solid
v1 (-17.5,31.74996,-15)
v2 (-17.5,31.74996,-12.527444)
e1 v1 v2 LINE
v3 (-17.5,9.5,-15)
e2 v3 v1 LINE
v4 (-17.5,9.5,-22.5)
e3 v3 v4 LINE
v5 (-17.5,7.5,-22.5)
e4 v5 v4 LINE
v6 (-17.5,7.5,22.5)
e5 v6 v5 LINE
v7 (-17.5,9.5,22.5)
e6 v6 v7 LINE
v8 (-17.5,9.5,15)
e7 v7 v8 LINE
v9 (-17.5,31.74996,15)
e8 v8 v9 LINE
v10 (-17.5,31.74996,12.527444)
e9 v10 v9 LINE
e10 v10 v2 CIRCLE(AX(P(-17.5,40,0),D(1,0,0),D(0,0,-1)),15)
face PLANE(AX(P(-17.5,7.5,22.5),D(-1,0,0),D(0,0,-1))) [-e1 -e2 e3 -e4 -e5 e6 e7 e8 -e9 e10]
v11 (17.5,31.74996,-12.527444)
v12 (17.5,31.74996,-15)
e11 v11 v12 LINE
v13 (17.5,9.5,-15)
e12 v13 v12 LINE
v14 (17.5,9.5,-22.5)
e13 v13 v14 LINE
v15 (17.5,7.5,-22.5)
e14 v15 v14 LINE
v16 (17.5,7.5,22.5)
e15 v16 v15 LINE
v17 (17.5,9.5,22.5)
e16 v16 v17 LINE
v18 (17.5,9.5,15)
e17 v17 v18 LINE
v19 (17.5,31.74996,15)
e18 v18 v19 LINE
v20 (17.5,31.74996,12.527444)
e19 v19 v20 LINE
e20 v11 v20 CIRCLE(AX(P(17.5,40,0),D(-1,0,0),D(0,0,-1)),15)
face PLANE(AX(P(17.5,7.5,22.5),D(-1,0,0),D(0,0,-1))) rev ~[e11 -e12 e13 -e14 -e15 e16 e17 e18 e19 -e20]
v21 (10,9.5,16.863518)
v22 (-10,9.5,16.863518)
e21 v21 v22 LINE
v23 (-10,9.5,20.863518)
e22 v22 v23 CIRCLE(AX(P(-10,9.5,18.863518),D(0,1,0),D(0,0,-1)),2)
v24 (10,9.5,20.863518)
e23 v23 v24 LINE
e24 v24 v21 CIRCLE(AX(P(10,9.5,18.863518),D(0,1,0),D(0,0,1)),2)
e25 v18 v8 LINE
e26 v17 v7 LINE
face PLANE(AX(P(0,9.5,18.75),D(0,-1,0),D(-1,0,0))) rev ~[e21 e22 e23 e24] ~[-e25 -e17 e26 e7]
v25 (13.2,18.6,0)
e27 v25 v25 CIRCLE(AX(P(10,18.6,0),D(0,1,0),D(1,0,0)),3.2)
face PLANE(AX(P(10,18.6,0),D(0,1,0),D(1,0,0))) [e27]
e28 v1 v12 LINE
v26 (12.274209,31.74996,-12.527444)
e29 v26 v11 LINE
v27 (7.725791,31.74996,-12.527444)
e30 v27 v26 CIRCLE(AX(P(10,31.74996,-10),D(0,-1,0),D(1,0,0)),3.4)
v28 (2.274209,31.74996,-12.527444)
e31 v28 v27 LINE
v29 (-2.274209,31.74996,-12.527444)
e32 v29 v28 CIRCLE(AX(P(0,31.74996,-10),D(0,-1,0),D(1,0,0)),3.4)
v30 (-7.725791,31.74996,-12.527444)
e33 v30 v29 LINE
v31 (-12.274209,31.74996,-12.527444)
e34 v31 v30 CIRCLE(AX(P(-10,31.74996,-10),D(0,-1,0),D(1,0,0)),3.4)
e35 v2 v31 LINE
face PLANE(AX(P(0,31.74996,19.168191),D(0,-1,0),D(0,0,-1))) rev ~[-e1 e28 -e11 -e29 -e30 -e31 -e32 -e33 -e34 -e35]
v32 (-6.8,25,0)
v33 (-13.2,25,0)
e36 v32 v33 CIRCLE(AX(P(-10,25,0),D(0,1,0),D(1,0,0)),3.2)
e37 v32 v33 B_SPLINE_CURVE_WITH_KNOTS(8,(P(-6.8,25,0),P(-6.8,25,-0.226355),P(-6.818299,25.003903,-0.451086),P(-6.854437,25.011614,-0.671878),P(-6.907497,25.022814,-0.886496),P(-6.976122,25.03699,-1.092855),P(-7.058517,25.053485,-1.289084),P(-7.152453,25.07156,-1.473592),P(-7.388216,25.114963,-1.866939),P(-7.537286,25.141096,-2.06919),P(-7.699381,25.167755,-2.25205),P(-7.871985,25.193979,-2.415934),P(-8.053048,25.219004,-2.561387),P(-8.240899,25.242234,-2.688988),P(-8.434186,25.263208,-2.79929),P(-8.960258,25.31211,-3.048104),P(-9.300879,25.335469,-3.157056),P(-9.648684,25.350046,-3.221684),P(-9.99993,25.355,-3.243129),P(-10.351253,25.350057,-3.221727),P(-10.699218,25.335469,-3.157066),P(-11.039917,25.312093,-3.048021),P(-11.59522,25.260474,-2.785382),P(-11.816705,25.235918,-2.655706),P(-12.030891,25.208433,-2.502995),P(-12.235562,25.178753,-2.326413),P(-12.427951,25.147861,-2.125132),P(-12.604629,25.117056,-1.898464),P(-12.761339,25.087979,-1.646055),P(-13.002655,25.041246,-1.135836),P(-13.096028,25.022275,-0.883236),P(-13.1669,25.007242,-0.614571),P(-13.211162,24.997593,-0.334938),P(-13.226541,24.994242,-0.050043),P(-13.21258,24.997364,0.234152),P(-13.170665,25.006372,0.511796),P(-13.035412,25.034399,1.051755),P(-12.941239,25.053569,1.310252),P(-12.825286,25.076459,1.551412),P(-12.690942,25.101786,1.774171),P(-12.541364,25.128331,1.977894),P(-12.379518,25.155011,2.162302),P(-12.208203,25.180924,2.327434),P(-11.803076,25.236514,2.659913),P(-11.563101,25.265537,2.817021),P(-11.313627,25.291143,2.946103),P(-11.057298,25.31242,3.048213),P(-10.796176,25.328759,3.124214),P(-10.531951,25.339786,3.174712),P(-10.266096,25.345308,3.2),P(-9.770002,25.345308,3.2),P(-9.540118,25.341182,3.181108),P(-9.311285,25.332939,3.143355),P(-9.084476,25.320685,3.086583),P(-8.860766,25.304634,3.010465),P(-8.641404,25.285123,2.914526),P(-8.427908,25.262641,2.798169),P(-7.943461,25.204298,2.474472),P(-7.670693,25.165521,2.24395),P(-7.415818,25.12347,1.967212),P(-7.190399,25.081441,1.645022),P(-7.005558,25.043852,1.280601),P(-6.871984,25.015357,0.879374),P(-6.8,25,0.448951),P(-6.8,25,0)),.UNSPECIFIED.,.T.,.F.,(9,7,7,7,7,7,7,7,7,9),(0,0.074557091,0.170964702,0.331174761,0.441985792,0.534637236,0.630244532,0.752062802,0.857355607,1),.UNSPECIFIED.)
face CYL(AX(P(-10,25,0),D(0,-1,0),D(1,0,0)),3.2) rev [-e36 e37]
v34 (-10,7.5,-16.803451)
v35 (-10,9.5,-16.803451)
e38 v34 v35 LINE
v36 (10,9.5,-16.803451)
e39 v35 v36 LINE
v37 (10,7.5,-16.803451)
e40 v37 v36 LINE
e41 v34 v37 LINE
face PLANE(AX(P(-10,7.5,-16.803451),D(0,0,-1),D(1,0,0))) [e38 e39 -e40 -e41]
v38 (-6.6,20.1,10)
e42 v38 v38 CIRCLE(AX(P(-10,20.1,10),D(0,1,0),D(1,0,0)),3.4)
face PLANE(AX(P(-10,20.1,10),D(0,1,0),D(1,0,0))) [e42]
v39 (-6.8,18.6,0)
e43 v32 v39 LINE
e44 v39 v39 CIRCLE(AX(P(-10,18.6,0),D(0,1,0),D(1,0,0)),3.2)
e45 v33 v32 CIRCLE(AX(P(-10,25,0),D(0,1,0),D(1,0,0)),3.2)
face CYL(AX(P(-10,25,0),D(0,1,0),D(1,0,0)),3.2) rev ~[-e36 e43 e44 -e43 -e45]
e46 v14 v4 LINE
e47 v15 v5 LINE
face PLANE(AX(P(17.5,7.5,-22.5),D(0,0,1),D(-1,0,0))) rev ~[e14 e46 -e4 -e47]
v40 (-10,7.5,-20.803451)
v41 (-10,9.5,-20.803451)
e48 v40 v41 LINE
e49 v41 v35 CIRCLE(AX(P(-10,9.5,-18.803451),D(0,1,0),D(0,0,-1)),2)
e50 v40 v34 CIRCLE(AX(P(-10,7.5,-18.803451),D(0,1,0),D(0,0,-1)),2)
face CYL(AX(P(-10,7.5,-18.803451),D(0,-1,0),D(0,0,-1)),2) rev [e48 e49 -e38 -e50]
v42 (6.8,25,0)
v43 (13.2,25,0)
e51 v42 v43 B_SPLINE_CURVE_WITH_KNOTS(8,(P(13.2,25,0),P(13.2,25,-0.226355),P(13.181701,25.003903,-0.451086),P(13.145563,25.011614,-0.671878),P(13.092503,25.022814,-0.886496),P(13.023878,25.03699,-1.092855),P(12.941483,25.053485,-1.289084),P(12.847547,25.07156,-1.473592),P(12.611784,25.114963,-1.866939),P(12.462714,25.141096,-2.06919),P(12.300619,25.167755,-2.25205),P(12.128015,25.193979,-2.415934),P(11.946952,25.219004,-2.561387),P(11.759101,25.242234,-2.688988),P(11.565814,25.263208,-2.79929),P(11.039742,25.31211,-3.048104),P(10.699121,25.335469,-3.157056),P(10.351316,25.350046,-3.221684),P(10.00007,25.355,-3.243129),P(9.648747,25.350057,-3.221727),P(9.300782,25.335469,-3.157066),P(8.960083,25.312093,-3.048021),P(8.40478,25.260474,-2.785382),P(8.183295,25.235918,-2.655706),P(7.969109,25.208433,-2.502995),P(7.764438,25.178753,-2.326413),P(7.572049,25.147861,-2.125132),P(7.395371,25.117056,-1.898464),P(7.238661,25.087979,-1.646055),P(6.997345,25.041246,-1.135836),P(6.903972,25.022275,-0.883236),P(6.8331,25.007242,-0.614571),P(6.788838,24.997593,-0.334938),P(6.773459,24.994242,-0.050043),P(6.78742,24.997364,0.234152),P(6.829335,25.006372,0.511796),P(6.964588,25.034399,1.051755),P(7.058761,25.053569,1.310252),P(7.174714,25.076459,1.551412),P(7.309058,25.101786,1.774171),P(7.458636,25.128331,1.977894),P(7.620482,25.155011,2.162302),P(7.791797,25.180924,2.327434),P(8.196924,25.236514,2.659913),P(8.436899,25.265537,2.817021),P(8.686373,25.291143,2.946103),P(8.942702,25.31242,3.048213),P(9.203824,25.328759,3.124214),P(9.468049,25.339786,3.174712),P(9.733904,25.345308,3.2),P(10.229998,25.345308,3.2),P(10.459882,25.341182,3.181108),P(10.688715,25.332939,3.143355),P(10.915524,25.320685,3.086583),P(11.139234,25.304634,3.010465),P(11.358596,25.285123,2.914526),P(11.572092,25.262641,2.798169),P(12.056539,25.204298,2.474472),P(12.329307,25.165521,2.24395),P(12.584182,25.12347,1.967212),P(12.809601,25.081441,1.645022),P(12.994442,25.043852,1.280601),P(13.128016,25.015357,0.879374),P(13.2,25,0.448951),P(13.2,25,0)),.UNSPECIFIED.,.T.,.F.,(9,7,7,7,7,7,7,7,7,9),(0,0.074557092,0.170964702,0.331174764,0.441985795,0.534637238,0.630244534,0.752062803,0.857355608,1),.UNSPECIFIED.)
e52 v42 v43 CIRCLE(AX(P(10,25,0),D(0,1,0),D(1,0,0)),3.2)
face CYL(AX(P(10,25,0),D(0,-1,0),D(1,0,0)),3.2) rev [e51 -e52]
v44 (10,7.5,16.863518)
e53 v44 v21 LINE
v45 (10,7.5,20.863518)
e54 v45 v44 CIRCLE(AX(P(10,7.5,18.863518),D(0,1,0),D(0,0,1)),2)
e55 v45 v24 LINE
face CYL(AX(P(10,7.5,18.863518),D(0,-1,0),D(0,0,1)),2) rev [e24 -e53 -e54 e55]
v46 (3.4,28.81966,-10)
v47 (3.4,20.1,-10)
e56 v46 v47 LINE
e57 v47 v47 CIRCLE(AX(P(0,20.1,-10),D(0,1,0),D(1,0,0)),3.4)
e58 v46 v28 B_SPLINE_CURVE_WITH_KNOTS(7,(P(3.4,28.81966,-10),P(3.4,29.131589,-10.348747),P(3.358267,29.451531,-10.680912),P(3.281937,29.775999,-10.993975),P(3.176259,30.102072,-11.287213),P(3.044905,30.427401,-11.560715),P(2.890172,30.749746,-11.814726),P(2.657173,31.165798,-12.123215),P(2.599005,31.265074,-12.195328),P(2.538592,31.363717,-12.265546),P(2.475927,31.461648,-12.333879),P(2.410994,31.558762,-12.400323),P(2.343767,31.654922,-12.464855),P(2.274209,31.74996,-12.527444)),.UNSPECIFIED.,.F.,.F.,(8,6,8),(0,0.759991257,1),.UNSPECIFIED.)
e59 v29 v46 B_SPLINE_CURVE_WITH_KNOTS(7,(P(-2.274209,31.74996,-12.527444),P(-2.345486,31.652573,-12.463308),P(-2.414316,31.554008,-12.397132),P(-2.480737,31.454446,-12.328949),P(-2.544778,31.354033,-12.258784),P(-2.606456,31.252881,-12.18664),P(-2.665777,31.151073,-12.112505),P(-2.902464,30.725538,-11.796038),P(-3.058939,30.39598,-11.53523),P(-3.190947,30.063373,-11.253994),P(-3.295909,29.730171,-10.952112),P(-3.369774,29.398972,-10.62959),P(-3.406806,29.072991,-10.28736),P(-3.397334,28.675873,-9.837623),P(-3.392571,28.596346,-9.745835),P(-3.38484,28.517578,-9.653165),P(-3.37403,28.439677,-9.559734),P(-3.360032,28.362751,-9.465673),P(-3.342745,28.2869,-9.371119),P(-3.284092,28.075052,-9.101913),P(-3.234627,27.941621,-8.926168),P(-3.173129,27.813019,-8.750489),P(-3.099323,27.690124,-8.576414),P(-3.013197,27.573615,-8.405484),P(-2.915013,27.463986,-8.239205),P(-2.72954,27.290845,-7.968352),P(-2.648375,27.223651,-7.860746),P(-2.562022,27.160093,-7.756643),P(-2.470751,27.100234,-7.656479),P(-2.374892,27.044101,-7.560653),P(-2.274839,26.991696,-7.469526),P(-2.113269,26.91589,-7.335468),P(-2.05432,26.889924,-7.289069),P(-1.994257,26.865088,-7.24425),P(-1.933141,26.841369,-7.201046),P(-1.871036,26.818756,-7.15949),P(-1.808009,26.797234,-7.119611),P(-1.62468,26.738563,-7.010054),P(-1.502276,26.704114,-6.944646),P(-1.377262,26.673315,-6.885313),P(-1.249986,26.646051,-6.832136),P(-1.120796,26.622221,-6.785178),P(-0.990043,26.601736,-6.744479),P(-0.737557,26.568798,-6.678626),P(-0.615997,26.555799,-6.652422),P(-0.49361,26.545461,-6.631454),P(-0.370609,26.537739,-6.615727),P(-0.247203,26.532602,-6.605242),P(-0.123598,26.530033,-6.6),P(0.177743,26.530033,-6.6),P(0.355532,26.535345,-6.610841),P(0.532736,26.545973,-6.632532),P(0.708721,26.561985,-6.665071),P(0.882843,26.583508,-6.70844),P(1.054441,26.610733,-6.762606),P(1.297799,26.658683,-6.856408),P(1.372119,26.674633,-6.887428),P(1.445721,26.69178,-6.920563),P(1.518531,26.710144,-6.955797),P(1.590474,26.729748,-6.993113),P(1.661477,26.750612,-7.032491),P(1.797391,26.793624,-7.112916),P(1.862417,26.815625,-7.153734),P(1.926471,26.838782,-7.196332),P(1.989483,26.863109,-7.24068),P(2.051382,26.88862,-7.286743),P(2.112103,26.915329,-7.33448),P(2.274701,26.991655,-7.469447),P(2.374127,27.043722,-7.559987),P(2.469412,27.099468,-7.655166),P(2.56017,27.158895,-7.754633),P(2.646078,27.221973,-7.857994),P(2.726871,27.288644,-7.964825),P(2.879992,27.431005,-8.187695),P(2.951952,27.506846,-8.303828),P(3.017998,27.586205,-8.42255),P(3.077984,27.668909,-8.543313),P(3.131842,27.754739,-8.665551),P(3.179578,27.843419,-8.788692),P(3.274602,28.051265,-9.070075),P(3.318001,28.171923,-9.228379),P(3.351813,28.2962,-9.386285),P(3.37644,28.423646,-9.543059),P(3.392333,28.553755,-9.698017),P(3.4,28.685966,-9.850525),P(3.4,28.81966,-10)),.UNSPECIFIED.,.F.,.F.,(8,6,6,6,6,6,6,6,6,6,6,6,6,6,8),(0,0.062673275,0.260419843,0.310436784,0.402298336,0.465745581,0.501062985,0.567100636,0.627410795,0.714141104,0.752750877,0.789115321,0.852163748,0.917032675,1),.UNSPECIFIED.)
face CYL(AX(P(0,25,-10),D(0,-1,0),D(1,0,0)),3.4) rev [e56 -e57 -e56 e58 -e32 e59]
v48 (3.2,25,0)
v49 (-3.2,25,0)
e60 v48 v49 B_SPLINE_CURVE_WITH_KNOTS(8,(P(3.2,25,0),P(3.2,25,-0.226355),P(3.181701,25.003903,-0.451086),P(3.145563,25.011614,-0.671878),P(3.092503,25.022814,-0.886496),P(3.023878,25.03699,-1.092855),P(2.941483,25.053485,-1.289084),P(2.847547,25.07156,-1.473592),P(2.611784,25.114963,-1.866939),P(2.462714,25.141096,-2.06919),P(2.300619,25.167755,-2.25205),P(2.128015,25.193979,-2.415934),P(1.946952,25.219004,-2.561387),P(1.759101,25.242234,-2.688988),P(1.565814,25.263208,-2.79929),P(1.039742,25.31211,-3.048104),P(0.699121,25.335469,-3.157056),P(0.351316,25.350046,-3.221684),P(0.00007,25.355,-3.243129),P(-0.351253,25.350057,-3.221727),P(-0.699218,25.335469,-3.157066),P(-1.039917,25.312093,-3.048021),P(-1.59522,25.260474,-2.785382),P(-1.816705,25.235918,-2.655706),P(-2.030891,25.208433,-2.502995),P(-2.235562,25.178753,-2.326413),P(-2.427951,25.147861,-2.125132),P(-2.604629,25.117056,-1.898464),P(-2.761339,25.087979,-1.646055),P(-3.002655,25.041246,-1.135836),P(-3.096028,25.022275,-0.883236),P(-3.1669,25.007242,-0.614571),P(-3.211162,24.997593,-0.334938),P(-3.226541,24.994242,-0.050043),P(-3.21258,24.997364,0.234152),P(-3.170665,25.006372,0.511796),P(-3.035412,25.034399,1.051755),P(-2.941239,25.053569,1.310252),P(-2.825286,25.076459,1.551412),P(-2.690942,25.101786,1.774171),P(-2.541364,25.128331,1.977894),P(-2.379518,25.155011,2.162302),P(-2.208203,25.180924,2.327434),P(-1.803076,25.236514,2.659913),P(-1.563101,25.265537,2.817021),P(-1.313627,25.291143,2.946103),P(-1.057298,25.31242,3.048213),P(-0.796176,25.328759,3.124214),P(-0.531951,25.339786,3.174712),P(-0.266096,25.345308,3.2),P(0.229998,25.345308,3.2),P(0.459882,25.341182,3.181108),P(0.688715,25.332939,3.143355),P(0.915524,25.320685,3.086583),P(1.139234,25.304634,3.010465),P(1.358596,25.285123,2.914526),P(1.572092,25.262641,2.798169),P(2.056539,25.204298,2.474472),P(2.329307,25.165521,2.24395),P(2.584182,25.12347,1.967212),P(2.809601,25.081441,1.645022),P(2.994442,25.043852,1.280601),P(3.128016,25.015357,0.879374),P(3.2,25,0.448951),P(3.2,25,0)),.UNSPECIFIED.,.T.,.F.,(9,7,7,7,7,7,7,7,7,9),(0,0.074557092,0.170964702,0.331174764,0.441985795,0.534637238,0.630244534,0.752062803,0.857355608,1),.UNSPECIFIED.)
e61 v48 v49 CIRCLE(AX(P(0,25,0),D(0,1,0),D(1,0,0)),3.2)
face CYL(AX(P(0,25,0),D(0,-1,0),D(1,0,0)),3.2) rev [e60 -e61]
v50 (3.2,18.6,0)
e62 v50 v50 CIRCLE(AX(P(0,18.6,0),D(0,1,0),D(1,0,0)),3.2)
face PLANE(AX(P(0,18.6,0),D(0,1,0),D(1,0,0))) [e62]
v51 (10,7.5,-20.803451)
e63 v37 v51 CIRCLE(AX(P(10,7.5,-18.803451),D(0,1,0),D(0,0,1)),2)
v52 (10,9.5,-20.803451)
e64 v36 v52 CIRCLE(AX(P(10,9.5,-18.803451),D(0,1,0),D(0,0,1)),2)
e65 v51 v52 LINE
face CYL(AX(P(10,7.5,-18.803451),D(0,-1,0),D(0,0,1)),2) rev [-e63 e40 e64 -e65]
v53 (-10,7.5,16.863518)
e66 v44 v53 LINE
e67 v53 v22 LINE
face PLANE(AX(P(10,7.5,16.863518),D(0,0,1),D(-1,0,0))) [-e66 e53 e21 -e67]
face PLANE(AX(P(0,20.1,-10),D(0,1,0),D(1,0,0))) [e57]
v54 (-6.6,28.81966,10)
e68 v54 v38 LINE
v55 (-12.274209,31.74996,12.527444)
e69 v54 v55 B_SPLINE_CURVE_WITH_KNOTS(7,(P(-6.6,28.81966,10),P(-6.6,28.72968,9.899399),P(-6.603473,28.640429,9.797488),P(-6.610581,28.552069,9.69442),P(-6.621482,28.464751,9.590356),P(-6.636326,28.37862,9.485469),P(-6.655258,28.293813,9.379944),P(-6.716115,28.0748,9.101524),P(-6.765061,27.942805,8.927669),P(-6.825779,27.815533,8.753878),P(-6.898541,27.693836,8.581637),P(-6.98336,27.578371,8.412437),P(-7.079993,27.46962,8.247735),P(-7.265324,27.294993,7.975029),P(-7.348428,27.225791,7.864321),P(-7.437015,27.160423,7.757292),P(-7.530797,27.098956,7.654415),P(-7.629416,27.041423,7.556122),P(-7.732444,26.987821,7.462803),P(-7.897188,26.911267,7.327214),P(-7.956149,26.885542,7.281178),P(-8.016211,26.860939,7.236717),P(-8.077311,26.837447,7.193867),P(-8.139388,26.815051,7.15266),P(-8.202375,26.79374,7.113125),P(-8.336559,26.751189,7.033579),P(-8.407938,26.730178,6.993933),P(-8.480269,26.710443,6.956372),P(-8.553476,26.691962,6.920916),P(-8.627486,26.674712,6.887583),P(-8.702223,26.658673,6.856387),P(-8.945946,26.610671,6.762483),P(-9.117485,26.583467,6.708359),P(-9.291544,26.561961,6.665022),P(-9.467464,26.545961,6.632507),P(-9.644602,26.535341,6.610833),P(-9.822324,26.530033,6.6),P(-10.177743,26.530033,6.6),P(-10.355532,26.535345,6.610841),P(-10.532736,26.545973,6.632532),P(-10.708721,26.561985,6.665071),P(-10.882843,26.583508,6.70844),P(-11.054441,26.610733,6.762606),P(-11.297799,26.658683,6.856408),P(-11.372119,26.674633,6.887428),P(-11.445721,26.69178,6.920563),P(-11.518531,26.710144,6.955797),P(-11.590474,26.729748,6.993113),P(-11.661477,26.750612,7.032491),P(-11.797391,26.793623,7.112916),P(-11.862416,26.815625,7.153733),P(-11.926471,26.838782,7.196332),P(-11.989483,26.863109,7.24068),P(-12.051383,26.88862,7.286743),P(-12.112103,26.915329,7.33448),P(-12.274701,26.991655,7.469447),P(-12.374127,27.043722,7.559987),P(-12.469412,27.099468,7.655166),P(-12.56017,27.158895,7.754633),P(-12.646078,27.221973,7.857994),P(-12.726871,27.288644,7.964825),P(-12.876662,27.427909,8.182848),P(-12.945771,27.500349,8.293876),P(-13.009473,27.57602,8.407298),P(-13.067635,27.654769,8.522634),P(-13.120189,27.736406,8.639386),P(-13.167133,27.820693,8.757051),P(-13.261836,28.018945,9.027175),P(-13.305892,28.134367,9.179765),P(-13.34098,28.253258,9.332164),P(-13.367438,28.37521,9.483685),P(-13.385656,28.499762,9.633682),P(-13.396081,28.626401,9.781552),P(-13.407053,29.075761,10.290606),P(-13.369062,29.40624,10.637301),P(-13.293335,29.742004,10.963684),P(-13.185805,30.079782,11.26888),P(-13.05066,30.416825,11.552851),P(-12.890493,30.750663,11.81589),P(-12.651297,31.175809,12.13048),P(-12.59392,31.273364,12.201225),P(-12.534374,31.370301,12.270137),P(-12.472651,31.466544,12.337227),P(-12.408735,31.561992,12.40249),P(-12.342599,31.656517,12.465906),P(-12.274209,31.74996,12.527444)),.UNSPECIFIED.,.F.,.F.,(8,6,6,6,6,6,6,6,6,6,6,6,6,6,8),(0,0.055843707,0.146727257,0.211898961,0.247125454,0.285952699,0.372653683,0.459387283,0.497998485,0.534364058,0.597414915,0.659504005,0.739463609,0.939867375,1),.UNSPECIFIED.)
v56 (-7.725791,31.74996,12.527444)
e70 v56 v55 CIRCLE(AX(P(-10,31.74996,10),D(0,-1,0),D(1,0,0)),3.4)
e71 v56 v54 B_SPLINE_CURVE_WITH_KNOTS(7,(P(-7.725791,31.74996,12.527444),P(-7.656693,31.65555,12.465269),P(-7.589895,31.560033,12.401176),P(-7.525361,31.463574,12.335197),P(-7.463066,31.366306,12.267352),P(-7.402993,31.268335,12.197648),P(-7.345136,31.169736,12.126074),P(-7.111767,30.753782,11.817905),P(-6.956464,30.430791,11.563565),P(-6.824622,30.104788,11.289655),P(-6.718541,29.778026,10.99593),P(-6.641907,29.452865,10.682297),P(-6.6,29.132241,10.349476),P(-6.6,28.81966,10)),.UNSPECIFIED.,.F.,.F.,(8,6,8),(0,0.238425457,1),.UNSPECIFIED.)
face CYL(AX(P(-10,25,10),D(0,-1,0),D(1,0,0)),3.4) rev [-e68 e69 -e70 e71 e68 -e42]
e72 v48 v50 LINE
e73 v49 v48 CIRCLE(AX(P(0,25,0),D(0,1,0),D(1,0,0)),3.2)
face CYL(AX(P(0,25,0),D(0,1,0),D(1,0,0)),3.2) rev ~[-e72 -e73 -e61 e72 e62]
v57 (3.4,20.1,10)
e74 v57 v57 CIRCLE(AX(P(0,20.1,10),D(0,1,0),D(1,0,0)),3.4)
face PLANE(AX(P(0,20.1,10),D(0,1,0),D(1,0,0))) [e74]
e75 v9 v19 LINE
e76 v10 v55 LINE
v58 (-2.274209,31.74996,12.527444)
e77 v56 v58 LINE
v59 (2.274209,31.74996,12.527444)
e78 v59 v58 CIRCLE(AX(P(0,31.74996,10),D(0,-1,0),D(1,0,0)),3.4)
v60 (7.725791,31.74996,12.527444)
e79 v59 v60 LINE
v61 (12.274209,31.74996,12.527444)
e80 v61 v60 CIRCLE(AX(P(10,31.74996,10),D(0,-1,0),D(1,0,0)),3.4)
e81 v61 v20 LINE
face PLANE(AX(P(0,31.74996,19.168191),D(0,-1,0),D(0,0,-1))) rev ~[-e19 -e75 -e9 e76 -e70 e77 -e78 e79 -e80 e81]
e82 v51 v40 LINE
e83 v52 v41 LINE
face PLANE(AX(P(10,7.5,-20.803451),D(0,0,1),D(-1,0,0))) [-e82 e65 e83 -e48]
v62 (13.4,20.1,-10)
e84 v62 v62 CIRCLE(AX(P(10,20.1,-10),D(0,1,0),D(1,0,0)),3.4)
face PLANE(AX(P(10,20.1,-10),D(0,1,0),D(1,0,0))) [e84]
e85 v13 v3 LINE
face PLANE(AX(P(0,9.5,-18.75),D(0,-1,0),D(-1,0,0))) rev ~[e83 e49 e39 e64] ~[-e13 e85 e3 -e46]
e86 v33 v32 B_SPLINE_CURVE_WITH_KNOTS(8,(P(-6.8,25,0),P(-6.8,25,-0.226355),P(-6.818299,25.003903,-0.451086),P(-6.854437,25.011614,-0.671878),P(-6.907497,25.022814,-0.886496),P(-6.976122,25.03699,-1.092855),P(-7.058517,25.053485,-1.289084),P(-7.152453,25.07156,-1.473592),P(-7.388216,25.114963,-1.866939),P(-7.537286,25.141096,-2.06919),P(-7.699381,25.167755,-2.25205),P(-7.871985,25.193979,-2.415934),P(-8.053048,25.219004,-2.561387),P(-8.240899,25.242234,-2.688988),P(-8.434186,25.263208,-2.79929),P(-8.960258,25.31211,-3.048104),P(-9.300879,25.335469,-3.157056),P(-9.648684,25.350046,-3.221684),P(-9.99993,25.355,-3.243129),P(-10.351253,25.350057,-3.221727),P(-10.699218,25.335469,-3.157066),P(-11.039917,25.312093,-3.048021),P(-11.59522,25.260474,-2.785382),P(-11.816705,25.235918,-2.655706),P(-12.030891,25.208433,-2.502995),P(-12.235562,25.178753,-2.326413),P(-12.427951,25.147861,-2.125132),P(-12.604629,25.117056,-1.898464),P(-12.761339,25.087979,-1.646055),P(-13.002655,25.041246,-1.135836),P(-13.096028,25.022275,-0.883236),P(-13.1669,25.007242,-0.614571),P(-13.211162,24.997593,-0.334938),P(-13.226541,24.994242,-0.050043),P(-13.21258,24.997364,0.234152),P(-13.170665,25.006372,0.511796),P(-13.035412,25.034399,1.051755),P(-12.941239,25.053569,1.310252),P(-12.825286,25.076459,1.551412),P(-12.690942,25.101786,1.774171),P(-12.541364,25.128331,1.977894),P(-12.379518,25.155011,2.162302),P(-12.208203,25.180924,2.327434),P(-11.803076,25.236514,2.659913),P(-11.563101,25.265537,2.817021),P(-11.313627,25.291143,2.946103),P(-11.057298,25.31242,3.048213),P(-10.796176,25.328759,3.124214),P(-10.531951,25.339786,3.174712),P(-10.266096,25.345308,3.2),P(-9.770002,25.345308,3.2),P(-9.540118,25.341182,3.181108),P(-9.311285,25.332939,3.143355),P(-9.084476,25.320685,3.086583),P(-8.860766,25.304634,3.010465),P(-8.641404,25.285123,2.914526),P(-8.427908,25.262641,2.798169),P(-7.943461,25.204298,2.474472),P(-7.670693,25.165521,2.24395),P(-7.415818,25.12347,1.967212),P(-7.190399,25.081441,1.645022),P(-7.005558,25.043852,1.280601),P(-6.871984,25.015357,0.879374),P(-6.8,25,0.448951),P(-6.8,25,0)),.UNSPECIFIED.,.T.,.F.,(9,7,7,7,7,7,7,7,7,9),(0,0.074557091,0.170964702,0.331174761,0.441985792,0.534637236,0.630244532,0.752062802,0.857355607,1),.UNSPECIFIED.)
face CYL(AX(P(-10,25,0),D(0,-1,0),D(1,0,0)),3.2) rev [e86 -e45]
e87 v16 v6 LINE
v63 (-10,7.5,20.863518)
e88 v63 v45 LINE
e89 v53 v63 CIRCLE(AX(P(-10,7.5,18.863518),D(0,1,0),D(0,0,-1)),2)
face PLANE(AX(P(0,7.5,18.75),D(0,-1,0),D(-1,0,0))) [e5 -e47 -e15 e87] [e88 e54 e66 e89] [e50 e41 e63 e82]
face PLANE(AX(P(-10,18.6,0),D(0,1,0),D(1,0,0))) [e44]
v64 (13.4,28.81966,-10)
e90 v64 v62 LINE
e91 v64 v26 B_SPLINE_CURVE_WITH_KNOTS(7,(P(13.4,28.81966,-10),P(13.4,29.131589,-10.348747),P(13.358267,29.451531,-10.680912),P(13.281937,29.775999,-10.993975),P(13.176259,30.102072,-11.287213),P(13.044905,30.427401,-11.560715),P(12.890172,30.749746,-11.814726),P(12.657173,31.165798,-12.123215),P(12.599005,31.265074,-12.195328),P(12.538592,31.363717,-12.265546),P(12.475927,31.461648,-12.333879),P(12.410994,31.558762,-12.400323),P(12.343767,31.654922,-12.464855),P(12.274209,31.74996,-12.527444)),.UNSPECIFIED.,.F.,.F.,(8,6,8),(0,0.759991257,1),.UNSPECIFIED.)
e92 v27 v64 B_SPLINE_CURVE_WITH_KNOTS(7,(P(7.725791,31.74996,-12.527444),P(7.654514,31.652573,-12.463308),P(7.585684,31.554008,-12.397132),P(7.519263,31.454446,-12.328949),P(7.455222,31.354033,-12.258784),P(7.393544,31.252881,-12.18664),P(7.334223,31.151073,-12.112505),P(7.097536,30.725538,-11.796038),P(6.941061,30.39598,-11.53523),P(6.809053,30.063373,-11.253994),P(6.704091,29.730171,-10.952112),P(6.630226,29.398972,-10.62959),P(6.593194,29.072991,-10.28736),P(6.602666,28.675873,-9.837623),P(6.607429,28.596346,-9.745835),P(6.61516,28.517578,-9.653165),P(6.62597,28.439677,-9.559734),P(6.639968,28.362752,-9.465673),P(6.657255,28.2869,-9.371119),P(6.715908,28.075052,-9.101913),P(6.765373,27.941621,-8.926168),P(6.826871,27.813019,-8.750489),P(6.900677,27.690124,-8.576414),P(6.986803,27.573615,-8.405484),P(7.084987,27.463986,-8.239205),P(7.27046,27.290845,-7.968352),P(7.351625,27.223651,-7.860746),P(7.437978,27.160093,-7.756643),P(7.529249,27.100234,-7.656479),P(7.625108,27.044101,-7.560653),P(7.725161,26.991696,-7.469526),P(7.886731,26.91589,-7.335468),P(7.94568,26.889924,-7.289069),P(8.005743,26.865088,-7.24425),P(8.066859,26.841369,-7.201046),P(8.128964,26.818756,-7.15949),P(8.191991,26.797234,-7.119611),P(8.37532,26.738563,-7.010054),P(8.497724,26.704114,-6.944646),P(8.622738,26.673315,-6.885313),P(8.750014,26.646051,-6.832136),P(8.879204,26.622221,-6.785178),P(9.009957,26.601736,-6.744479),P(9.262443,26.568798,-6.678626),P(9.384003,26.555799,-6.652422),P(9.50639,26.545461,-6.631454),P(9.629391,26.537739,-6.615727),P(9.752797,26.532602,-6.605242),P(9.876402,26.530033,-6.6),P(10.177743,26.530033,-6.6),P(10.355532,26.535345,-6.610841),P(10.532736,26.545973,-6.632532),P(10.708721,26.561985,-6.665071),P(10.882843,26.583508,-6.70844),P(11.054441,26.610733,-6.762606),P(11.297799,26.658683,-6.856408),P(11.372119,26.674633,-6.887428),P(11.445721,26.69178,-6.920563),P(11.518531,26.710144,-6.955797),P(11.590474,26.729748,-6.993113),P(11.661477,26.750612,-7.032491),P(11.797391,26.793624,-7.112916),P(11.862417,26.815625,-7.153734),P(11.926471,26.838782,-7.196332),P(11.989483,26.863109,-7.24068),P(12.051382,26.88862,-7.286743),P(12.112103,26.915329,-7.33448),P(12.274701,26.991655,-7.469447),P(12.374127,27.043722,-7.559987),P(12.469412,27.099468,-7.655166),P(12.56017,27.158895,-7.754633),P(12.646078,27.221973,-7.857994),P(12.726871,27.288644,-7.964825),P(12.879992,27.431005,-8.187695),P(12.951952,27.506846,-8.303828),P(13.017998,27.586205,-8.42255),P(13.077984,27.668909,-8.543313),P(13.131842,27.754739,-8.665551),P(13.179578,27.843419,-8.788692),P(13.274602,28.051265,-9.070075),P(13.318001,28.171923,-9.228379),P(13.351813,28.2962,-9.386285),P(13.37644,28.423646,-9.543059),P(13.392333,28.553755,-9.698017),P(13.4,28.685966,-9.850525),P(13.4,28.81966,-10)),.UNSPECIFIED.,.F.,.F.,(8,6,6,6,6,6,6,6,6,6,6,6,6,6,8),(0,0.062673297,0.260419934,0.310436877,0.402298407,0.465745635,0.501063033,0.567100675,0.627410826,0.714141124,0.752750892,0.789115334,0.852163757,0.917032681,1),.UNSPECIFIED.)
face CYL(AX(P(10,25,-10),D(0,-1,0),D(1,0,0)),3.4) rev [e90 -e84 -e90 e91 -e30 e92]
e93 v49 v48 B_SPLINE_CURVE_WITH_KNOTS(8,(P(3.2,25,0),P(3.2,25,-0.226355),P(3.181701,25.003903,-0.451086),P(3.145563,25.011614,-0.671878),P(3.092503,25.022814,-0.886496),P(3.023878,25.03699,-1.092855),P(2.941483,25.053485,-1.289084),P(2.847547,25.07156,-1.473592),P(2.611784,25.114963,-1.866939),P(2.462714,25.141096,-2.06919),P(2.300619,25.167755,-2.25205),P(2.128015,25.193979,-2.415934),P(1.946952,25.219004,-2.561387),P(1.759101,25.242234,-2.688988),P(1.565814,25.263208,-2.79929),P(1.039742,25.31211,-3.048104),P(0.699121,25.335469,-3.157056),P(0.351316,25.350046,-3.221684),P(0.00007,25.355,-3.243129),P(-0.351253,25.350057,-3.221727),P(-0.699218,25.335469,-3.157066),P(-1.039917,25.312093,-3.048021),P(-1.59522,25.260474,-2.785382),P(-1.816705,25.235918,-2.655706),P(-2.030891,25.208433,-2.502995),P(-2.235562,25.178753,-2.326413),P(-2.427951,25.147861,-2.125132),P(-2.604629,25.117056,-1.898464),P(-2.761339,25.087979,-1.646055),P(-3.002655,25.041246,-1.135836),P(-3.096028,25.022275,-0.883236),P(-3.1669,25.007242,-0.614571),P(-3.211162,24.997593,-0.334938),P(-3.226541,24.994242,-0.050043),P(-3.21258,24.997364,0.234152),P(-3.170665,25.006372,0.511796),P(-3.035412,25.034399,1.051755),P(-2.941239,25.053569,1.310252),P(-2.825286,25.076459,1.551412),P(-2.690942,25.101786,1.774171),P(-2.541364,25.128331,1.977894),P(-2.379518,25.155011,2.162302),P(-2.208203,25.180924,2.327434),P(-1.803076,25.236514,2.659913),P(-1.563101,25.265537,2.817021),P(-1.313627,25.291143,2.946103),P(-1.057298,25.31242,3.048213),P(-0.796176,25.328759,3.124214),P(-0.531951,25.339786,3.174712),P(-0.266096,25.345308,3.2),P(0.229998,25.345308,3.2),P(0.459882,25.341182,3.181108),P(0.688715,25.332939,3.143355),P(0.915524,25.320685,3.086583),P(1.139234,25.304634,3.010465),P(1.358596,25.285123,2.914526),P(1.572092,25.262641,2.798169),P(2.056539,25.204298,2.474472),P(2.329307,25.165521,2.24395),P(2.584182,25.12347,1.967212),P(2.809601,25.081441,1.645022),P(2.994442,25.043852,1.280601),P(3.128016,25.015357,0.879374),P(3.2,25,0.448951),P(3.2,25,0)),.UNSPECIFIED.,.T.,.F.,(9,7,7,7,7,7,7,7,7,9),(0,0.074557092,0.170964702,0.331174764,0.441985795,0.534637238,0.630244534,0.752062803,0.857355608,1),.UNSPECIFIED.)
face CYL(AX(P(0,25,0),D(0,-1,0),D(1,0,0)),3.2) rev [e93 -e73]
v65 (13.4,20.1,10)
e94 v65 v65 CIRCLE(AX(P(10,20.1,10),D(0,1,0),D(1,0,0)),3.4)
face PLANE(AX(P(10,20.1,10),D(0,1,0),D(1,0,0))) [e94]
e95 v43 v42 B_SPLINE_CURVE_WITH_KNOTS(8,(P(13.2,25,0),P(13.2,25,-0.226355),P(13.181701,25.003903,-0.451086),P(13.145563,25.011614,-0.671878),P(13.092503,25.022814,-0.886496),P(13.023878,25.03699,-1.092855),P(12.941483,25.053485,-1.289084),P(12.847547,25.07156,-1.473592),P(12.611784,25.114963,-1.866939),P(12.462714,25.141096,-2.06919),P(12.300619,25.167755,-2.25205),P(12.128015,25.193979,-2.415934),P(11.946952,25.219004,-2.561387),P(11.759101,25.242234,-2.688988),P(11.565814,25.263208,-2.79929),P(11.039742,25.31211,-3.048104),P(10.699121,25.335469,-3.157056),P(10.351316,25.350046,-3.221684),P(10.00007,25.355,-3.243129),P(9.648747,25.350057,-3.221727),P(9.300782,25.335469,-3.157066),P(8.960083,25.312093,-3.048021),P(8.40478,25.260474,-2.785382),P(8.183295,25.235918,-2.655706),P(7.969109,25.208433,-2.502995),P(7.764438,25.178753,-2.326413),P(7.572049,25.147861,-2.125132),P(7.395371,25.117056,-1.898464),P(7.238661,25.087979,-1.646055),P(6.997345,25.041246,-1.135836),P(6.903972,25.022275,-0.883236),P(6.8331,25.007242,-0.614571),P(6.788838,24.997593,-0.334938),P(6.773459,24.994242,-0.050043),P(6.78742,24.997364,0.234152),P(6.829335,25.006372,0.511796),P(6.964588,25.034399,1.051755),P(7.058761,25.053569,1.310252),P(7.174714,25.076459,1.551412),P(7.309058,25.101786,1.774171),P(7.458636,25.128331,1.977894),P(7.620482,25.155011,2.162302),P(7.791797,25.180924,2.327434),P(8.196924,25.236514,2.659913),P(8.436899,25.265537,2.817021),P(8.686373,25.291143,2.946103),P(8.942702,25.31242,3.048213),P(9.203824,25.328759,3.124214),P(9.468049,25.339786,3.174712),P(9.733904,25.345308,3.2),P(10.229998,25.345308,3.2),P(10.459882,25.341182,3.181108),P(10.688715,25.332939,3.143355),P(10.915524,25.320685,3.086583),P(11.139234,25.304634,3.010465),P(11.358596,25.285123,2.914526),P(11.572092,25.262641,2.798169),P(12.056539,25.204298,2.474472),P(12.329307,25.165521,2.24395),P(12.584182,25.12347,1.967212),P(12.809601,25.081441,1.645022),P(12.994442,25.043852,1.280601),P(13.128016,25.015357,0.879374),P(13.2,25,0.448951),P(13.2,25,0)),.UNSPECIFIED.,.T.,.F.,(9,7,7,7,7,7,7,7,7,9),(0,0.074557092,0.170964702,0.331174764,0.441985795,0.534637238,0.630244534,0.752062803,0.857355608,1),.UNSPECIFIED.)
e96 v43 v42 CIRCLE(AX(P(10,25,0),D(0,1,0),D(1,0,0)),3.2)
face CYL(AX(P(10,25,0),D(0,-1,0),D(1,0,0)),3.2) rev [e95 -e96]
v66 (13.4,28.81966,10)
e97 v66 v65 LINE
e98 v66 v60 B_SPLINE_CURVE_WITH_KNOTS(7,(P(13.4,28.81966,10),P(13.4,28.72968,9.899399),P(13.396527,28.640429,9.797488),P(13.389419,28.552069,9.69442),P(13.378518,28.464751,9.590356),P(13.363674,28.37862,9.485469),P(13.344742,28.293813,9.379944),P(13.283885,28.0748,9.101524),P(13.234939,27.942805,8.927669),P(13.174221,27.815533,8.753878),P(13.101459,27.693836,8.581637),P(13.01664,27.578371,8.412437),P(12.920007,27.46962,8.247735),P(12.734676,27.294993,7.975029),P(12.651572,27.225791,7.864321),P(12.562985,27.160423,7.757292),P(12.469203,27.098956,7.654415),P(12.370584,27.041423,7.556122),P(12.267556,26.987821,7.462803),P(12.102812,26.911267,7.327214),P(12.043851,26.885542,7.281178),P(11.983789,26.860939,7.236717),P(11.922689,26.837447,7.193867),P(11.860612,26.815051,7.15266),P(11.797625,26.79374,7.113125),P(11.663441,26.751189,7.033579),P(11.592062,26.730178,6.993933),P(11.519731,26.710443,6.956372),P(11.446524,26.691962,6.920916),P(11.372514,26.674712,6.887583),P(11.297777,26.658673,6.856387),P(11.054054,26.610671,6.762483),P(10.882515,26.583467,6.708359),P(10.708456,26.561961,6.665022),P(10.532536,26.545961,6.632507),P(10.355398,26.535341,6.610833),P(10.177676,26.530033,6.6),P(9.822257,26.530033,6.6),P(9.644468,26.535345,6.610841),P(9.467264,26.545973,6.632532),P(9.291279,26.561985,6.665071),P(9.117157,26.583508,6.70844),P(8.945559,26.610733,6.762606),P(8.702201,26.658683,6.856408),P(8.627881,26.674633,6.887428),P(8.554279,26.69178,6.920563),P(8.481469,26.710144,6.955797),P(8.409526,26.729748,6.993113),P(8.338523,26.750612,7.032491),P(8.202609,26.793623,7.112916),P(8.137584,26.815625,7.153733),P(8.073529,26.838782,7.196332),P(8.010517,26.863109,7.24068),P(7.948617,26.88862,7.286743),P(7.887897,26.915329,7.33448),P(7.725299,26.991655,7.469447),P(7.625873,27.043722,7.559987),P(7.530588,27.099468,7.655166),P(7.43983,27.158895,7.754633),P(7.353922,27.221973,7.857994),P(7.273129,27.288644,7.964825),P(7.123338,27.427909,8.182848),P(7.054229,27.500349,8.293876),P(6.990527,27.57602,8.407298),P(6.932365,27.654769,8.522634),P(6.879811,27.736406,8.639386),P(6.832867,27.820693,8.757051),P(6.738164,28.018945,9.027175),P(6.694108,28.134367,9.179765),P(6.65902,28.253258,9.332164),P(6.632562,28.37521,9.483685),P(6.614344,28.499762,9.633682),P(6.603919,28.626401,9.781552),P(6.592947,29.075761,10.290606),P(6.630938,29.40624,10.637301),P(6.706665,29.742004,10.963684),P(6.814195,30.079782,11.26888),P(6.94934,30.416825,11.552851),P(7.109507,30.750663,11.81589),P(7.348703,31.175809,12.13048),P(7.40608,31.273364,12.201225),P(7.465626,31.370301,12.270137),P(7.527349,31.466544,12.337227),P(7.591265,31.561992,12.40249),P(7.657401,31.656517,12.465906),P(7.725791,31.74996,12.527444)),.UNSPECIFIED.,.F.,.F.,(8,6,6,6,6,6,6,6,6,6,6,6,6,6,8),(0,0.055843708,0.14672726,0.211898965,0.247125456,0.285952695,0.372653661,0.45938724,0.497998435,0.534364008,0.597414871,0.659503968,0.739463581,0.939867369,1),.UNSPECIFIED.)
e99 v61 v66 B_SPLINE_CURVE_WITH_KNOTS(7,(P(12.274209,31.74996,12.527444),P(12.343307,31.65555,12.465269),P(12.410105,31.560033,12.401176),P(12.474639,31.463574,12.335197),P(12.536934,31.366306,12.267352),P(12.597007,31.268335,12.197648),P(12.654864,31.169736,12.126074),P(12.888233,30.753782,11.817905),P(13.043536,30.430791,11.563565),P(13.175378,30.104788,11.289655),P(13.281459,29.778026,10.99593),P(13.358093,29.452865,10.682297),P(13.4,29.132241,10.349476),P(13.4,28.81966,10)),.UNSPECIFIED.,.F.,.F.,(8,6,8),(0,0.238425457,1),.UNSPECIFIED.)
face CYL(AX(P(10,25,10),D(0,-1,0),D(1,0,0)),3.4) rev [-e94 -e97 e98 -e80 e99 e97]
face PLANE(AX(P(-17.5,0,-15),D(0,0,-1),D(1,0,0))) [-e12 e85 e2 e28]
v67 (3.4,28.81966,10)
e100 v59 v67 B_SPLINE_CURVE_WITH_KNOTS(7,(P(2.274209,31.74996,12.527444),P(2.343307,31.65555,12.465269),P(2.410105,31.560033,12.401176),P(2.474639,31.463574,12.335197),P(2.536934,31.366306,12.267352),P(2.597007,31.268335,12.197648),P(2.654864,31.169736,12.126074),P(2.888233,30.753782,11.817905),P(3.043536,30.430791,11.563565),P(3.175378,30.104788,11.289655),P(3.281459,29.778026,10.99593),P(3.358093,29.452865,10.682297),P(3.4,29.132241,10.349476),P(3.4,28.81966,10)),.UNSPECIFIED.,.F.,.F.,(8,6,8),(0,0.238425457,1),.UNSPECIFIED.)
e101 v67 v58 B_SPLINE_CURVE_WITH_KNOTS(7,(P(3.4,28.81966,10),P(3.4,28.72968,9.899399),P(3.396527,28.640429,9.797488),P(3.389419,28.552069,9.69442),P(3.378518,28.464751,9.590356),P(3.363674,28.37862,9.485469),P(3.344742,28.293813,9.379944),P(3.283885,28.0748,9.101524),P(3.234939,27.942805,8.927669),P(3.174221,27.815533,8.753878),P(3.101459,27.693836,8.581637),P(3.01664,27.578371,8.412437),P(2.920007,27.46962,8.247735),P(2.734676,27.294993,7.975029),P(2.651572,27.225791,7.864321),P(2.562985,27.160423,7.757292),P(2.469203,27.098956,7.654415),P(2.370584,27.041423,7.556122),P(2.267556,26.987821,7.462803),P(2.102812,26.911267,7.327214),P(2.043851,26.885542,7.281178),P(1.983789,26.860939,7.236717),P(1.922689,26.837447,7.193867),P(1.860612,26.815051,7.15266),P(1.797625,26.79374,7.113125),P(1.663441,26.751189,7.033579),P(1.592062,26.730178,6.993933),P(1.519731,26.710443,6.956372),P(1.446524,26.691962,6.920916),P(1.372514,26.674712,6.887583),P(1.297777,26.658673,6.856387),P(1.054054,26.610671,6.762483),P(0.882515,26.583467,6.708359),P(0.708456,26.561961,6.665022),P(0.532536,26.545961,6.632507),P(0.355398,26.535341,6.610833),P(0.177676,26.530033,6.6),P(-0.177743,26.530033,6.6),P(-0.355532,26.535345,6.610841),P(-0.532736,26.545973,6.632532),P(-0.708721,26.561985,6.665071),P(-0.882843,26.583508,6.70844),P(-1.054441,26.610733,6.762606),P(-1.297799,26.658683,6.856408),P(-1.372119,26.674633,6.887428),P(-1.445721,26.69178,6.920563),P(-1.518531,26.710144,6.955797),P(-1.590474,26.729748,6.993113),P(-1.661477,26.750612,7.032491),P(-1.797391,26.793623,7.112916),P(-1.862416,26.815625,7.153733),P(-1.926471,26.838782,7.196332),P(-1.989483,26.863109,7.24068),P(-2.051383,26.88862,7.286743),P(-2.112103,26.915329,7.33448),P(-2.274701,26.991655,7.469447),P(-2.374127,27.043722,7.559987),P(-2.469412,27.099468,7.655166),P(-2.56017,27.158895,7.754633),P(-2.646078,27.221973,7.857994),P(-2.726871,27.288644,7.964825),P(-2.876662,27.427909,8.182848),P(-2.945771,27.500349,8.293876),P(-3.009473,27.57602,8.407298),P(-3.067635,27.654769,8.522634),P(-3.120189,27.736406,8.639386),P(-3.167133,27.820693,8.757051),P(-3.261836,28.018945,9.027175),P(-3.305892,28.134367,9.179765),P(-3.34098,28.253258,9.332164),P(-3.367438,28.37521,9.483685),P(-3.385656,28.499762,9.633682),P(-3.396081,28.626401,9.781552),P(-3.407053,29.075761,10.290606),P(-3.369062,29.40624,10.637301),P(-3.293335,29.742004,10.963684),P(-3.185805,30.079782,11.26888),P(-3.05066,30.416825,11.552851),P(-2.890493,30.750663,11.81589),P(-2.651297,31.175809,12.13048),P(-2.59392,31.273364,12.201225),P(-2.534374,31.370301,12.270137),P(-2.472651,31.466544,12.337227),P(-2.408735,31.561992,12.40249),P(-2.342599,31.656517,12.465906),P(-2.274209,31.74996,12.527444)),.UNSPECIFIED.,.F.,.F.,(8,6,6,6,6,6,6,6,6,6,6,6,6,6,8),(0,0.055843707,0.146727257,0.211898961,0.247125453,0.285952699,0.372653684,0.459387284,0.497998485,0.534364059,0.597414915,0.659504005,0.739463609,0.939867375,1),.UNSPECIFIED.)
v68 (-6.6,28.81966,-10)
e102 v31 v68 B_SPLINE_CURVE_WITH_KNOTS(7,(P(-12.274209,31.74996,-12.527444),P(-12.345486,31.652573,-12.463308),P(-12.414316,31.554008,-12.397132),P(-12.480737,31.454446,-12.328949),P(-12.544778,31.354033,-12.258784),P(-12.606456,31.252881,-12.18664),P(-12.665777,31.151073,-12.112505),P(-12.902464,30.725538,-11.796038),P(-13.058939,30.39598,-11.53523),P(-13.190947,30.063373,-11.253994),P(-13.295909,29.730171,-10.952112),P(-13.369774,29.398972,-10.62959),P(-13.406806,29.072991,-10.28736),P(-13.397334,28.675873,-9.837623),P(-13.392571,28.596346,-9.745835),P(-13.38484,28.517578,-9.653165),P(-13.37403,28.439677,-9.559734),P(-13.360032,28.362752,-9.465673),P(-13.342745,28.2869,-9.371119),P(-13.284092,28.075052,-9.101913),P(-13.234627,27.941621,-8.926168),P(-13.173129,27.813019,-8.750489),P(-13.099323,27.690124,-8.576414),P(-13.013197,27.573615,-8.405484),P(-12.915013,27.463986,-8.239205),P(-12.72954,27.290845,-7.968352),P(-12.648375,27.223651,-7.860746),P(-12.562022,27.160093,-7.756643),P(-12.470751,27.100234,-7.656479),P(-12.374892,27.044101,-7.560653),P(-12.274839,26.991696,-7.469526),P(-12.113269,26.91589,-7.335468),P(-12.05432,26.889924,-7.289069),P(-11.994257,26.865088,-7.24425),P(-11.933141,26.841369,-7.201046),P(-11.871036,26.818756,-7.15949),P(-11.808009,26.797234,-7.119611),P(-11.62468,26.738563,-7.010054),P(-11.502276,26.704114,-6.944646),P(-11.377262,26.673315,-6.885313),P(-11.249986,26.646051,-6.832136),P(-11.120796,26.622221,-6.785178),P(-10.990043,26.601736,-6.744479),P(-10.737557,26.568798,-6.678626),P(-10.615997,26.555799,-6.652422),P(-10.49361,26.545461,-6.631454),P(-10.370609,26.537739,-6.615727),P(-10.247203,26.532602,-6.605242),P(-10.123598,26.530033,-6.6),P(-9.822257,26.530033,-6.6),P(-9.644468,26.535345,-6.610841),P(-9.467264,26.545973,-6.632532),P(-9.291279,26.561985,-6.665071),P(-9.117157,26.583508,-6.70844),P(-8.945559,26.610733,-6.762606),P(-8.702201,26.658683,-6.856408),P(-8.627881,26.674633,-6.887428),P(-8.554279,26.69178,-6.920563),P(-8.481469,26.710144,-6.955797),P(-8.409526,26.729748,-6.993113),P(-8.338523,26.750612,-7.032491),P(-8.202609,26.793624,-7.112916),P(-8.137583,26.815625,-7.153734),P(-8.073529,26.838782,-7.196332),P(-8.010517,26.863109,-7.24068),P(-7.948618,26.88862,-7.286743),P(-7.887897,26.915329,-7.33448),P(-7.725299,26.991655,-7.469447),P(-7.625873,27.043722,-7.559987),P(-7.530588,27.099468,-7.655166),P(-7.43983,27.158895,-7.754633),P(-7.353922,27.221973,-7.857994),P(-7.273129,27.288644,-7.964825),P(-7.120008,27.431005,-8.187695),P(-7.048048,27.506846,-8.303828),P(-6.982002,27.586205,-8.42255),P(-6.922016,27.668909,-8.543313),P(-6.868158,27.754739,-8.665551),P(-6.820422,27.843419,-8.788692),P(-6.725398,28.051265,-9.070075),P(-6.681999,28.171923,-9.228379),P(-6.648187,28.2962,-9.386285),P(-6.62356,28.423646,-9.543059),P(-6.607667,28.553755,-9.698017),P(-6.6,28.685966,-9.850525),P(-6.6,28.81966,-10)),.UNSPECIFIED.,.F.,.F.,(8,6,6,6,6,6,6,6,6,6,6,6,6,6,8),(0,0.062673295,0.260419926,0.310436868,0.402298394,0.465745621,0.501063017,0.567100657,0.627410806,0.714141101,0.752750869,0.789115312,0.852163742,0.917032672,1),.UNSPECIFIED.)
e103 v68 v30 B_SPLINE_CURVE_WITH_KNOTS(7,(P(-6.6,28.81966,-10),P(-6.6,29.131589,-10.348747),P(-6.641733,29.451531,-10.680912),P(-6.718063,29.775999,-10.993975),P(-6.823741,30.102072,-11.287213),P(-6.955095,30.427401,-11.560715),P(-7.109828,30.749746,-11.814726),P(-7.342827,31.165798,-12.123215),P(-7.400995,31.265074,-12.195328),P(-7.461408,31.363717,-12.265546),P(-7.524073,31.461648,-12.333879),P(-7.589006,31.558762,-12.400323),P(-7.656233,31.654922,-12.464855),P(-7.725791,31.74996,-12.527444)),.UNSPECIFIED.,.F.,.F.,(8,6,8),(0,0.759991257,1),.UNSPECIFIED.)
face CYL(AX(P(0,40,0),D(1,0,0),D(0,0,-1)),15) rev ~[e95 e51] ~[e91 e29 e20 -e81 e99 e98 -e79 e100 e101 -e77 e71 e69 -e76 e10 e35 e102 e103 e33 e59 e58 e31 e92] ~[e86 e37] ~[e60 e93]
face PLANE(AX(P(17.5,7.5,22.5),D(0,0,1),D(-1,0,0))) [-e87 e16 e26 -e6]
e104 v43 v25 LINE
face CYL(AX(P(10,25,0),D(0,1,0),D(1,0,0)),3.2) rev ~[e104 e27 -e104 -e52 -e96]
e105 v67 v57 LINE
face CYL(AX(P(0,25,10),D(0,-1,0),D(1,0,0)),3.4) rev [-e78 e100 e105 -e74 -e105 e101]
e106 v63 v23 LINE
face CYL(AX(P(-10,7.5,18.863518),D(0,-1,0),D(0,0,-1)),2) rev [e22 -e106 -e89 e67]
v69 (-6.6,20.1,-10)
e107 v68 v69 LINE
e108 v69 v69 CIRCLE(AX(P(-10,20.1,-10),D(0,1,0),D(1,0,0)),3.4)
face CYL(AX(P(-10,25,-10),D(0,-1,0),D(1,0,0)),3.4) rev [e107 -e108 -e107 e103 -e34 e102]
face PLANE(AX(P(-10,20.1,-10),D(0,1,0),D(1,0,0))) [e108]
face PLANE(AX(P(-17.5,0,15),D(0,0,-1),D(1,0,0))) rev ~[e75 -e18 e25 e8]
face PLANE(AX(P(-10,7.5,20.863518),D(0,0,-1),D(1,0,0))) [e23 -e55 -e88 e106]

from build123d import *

# Parameters (mm, degrees)
SKETCH8_W                       = 35
SKETCH8_H                       = 30
BOSS_EXTRUDE7_DEPTH             = 80
SKETCH10_R                      = 15
CUT_EXTRUDE3_DEPTH              = 18.5
CUT_EXTRUDE3_DEPTH_BACK         = 18.5
SKETCH11_W                      = 38.336381606
SKETCH11_H                      = 16.50007926
CUT_EXTRUDE4_DEPTH              = 18.5
CUT_EXTRUDE4_DEPTH_BACK         = 18.5
SKETCH12_W                      = 33.824881692
SKETCH12_H                      = 7.5
CUT_EXTRUDE5_DEPTH              = 18.5
CUT_EXTRUDE5_DEPTH_BACK         = 18.5
SKETCH13_W                      = 45.541829225
SKETCH13_H                      = 41.48776408
CUT_EXTRUDE6_DEPTH              = 18.5
CUT_EXTRUDE6_DEPTH_BACK         = 18.5
SKETCH15_W                      = 35
SKETCH15_H                      = 7.5
BOSS_EXTRUDE9_DEPTH             = 2
CUT_EXTRUDE7_DEPTH              = 2
SKETCH18_R                      = 3.2
CUT_EXTRUDE10_DEPTH             = 7.74996037
CUT_EXTRUDE10_DEPTH_BACK        = 6.4
CUT_EXTRUDE11_REACH             = 8.75
SKETCH19_R                      = 3.4
CUT_EXTRUDE11_DIRECTION_2_DEPTH = 4.9


with BuildPart() as part:
    # Sketch8 → Boss-Extrude7 (new body)
    with BuildSketch(Plane(origin=(0, 0, 0), x_dir=(1, 0, 0), z_dir=(0, 1, 0))):
        Rectangle(SKETCH8_W, SKETCH8_H)
    extrude(amount=BOSS_EXTRUDE7_DEPTH)

    # Sketch10 → Cut-Extrude3 (cut, two sides)
    with BuildSketch(Plane(origin=(0, 0, 0), x_dir=(0, 0, -1), z_dir=(1, 0, 0))) as cut_extrude3_sk:
        with Locations((0, 40)):
            Circle(SKETCH10_R)
    extrude(amount=CUT_EXTRUDE3_DEPTH, mode=Mode.SUBTRACT)
    extrude(cut_extrude3_sk.sketch, amount=-CUT_EXTRUDE3_DEPTH_BACK, mode=Mode.SUBTRACT)

    # Sketch11 → Cut-Extrude4 (cut, two sides)
    with BuildSketch(Plane(origin=(0, 0, 0), x_dir=(0, 0, -1), z_dir=(1, 0, 0))) as cut_extrude4_sk:
        with Locations((0, 40)):
            Rectangle(SKETCH11_W, SKETCH11_H)
    extrude(amount=CUT_EXTRUDE4_DEPTH, mode=Mode.SUBTRACT)
    extrude(cut_extrude4_sk.sketch, amount=-CUT_EXTRUDE4_DEPTH_BACK, mode=Mode.SUBTRACT)

    # Sketch12 → Cut-Extrude5 (cut, two sides)
    with BuildSketch(Plane(origin=(0, 0, 0), x_dir=(0, 0, -1), z_dir=(1, 0, 0))) as cut_extrude5_sk:
        with Locations((0.439040256, 3.75)):
            Rectangle(SKETCH12_W, SKETCH12_H)
    extrude(amount=CUT_EXTRUDE5_DEPTH, mode=Mode.SUBTRACT)
    extrude(cut_extrude5_sk.sketch, amount=-CUT_EXTRUDE5_DEPTH_BACK, mode=Mode.SUBTRACT)

    # Sketch13 → Cut-Extrude6 (cut, two sides)
    with BuildSketch(Plane(origin=(0, 0, 0), x_dir=(0, 0, -1), z_dir=(1, 0, 0))) as cut_extrude6_sk:
        with Locations((-6.569234617, 60.808180877)):
            Rectangle(SKETCH13_W, SKETCH13_H)
    extrude(amount=CUT_EXTRUDE6_DEPTH, mode=Mode.SUBTRACT)
    extrude(cut_extrude6_sk.sketch, amount=-CUT_EXTRUDE6_DEPTH_BACK, mode=Mode.SUBTRACT)

    # Sketch15 → Boss-Extrude9 (add)
    with BuildSketch(Plane(origin=(0, 7.5, 0), x_dir=(-1, 0, 0), z_dir=(0, -1, 0))):
        with Locations((0, -18.75)):
            Rectangle(SKETCH15_W, SKETCH15_H)
        with Locations((0, 18.75)):
            Rectangle(SKETCH15_W, SKETCH15_H)
    extrude(amount=-BOSS_EXTRUDE9_DEPTH)

    # Sketch16 → Cut-Extrude7 (cut)
    with BuildSketch(Plane(origin=(0, 7.5, 0), x_dir=(-1, 0, 0), z_dir=(0, -1, 0))):
        with BuildLine():
            Line((10, -20.863517543), (-10, -20.863517543))
            ThreePointArc((-10, -20.863517543), (-12, -18.863517543), (-10, -16.863517543))
            Line((-10, -16.863517543), (10, -16.863517543))
            ThreePointArc((10, -16.863517543), (12, -18.863517543), (10, -20.863517543))
        make_face()
        with BuildLine():
            Line((10, 16.803450623), (-10, 16.803450623))
            ThreePointArc((-10, 16.803450623), (-12, 18.803450623), (-10, 20.803450623))
            Line((-10, 20.803450623), (10, 20.803450623))
            ThreePointArc((10, 20.803450623), (12, 18.803450623), (10, 16.803450623))
        make_face()
    extrude(amount=-CUT_EXTRUDE7_DEPTH, mode=Mode.SUBTRACT)

    # Sketch18 → Cut-Extrude10 (cut, two sides)
    with BuildSketch(Plane(origin=(0, 25, 0), x_dir=(1, 0, 0), z_dir=(0, 1, 0))) as cut_extrude10_sk:
        Circle(SKETCH18_R)
        with Locations((10, 0)):
            Circle(SKETCH18_R)
        with Locations((-10, 0)):
            Circle(SKETCH18_R)
    extrude(amount=CUT_EXTRUDE10_DEPTH, mode=Mode.SUBTRACT)
    extrude(cut_extrude10_sk.sketch, amount=-CUT_EXTRUDE10_DEPTH_BACK, mode=Mode.SUBTRACT)

    # Sketch19 → Cut-Extrude11 (cut, up to next)
    with BuildSketch(Plane(origin=(0, 25, 0), x_dir=(1, 0, 0), z_dir=(0, 1, 0)), mode=Mode.PRIVATE) as cut_extrude11_sk1:
        with Locations((-10, -10)):
            Circle(SKETCH19_R)
    cut_extrude11_tool1 = extrude(cut_extrude11_sk1.sketch, amount=CUT_EXTRUDE11_REACH, mode=Mode.PRIVATE) & part.part
    add(cut_extrude11_tool1.solids().sort_by_distance((-10, 25, 10))[0], mode=Mode.SUBTRACT)
    # Sketch19 → Cut-Extrude11 (cut, up to next)
    with BuildSketch(Plane(origin=(0, 25, 0), x_dir=(1, 0, 0), z_dir=(0, 1, 0)), mode=Mode.PRIVATE) as cut_extrude11_sk2:
        with Locations((0, -10)):
            Circle(SKETCH19_R)
    cut_extrude11_tool2 = extrude(cut_extrude11_sk2.sketch, amount=CUT_EXTRUDE11_REACH, mode=Mode.PRIVATE) & part.part
    add(cut_extrude11_tool2.solids().sort_by_distance((0, 25, 10))[0], mode=Mode.SUBTRACT)
    # Sketch19 → Cut-Extrude11 (cut, up to next)
    with BuildSketch(Plane(origin=(0, 25, 0), x_dir=(1, 0, 0), z_dir=(0, 1, 0)), mode=Mode.PRIVATE) as cut_extrude11_sk3:
        with Locations((10, -10)):
            Circle(SKETCH19_R)
    cut_extrude11_tool3 = extrude(cut_extrude11_sk3.sketch, amount=CUT_EXTRUDE11_REACH, mode=Mode.PRIVATE) & part.part
    add(cut_extrude11_tool3.solids().sort_by_distance((10, 25, 10))[0], mode=Mode.SUBTRACT)
    # Sketch19 → Cut-Extrude11 (cut, up to next)
    with BuildSketch(Plane(origin=(0, 25, 0), x_dir=(1, 0, 0), z_dir=(0, 1, 0)), mode=Mode.PRIVATE) as cut_extrude11_sk4:
        with Locations((-10, 10)):
            Circle(SKETCH19_R)
    cut_extrude11_tool4 = extrude(cut_extrude11_sk4.sketch, amount=CUT_EXTRUDE11_REACH, mode=Mode.PRIVATE) & part.part
    add(cut_extrude11_tool4.solids().sort_by_distance((-10, 25, -10))[0], mode=Mode.SUBTRACT)
    # Sketch19 → Cut-Extrude11 (cut, up to next)
    with BuildSketch(Plane(origin=(0, 25, 0), x_dir=(1, 0, 0), z_dir=(0, 1, 0)), mode=Mode.PRIVATE) as cut_extrude11_sk5:
        with Locations((0, 10)):
            Circle(SKETCH19_R)
    cut_extrude11_tool5 = extrude(cut_extrude11_sk5.sketch, amount=CUT_EXTRUDE11_REACH, mode=Mode.PRIVATE) & part.part
    add(cut_extrude11_tool5.solids().sort_by_distance((0, 25, -10))[0], mode=Mode.SUBTRACT)
    # Sketch19 → Cut-Extrude11 (cut, up to next)
    with BuildSketch(Plane(origin=(0, 25, 0), x_dir=(1, 0, 0), z_dir=(0, 1, 0)), mode=Mode.PRIVATE) as cut_extrude11_sk6:
        with Locations((10, 10)):
            Circle(SKETCH19_R)
    cut_extrude11_tool6 = extrude(cut_extrude11_sk6.sketch, amount=CUT_EXTRUDE11_REACH, mode=Mode.PRIVATE) & part.part
    add(cut_extrude11_tool6.solids().sort_by_distance((10, 25, -10))[0], mode=Mode.SUBTRACT)

    # Sketch19 → Cut-Extrude11 direction 2 (cut)
    with BuildSketch(Plane(origin=(0, 25, 0), x_dir=(1, 0, 0), z_dir=(0, 1, 0))):
        with Locations((-10, -10)):
            Circle(SKETCH19_R)
        with Locations((0, -10)):
            Circle(SKETCH19_R)
        with Locations((10, -10)):
            Circle(SKETCH19_R)
        with Locations((-10, 10)):
            Circle(SKETCH19_R)
        with Locations((0, 10)):
            Circle(SKETCH19_R)
        with Locations((10, 10)):
            Circle(SKETCH19_R)
    extrude(amount=-CUT_EXTRUDE11_DIRECTION_2_DEPTH, mode=Mode.SUBTRACT)


solid = part.part
